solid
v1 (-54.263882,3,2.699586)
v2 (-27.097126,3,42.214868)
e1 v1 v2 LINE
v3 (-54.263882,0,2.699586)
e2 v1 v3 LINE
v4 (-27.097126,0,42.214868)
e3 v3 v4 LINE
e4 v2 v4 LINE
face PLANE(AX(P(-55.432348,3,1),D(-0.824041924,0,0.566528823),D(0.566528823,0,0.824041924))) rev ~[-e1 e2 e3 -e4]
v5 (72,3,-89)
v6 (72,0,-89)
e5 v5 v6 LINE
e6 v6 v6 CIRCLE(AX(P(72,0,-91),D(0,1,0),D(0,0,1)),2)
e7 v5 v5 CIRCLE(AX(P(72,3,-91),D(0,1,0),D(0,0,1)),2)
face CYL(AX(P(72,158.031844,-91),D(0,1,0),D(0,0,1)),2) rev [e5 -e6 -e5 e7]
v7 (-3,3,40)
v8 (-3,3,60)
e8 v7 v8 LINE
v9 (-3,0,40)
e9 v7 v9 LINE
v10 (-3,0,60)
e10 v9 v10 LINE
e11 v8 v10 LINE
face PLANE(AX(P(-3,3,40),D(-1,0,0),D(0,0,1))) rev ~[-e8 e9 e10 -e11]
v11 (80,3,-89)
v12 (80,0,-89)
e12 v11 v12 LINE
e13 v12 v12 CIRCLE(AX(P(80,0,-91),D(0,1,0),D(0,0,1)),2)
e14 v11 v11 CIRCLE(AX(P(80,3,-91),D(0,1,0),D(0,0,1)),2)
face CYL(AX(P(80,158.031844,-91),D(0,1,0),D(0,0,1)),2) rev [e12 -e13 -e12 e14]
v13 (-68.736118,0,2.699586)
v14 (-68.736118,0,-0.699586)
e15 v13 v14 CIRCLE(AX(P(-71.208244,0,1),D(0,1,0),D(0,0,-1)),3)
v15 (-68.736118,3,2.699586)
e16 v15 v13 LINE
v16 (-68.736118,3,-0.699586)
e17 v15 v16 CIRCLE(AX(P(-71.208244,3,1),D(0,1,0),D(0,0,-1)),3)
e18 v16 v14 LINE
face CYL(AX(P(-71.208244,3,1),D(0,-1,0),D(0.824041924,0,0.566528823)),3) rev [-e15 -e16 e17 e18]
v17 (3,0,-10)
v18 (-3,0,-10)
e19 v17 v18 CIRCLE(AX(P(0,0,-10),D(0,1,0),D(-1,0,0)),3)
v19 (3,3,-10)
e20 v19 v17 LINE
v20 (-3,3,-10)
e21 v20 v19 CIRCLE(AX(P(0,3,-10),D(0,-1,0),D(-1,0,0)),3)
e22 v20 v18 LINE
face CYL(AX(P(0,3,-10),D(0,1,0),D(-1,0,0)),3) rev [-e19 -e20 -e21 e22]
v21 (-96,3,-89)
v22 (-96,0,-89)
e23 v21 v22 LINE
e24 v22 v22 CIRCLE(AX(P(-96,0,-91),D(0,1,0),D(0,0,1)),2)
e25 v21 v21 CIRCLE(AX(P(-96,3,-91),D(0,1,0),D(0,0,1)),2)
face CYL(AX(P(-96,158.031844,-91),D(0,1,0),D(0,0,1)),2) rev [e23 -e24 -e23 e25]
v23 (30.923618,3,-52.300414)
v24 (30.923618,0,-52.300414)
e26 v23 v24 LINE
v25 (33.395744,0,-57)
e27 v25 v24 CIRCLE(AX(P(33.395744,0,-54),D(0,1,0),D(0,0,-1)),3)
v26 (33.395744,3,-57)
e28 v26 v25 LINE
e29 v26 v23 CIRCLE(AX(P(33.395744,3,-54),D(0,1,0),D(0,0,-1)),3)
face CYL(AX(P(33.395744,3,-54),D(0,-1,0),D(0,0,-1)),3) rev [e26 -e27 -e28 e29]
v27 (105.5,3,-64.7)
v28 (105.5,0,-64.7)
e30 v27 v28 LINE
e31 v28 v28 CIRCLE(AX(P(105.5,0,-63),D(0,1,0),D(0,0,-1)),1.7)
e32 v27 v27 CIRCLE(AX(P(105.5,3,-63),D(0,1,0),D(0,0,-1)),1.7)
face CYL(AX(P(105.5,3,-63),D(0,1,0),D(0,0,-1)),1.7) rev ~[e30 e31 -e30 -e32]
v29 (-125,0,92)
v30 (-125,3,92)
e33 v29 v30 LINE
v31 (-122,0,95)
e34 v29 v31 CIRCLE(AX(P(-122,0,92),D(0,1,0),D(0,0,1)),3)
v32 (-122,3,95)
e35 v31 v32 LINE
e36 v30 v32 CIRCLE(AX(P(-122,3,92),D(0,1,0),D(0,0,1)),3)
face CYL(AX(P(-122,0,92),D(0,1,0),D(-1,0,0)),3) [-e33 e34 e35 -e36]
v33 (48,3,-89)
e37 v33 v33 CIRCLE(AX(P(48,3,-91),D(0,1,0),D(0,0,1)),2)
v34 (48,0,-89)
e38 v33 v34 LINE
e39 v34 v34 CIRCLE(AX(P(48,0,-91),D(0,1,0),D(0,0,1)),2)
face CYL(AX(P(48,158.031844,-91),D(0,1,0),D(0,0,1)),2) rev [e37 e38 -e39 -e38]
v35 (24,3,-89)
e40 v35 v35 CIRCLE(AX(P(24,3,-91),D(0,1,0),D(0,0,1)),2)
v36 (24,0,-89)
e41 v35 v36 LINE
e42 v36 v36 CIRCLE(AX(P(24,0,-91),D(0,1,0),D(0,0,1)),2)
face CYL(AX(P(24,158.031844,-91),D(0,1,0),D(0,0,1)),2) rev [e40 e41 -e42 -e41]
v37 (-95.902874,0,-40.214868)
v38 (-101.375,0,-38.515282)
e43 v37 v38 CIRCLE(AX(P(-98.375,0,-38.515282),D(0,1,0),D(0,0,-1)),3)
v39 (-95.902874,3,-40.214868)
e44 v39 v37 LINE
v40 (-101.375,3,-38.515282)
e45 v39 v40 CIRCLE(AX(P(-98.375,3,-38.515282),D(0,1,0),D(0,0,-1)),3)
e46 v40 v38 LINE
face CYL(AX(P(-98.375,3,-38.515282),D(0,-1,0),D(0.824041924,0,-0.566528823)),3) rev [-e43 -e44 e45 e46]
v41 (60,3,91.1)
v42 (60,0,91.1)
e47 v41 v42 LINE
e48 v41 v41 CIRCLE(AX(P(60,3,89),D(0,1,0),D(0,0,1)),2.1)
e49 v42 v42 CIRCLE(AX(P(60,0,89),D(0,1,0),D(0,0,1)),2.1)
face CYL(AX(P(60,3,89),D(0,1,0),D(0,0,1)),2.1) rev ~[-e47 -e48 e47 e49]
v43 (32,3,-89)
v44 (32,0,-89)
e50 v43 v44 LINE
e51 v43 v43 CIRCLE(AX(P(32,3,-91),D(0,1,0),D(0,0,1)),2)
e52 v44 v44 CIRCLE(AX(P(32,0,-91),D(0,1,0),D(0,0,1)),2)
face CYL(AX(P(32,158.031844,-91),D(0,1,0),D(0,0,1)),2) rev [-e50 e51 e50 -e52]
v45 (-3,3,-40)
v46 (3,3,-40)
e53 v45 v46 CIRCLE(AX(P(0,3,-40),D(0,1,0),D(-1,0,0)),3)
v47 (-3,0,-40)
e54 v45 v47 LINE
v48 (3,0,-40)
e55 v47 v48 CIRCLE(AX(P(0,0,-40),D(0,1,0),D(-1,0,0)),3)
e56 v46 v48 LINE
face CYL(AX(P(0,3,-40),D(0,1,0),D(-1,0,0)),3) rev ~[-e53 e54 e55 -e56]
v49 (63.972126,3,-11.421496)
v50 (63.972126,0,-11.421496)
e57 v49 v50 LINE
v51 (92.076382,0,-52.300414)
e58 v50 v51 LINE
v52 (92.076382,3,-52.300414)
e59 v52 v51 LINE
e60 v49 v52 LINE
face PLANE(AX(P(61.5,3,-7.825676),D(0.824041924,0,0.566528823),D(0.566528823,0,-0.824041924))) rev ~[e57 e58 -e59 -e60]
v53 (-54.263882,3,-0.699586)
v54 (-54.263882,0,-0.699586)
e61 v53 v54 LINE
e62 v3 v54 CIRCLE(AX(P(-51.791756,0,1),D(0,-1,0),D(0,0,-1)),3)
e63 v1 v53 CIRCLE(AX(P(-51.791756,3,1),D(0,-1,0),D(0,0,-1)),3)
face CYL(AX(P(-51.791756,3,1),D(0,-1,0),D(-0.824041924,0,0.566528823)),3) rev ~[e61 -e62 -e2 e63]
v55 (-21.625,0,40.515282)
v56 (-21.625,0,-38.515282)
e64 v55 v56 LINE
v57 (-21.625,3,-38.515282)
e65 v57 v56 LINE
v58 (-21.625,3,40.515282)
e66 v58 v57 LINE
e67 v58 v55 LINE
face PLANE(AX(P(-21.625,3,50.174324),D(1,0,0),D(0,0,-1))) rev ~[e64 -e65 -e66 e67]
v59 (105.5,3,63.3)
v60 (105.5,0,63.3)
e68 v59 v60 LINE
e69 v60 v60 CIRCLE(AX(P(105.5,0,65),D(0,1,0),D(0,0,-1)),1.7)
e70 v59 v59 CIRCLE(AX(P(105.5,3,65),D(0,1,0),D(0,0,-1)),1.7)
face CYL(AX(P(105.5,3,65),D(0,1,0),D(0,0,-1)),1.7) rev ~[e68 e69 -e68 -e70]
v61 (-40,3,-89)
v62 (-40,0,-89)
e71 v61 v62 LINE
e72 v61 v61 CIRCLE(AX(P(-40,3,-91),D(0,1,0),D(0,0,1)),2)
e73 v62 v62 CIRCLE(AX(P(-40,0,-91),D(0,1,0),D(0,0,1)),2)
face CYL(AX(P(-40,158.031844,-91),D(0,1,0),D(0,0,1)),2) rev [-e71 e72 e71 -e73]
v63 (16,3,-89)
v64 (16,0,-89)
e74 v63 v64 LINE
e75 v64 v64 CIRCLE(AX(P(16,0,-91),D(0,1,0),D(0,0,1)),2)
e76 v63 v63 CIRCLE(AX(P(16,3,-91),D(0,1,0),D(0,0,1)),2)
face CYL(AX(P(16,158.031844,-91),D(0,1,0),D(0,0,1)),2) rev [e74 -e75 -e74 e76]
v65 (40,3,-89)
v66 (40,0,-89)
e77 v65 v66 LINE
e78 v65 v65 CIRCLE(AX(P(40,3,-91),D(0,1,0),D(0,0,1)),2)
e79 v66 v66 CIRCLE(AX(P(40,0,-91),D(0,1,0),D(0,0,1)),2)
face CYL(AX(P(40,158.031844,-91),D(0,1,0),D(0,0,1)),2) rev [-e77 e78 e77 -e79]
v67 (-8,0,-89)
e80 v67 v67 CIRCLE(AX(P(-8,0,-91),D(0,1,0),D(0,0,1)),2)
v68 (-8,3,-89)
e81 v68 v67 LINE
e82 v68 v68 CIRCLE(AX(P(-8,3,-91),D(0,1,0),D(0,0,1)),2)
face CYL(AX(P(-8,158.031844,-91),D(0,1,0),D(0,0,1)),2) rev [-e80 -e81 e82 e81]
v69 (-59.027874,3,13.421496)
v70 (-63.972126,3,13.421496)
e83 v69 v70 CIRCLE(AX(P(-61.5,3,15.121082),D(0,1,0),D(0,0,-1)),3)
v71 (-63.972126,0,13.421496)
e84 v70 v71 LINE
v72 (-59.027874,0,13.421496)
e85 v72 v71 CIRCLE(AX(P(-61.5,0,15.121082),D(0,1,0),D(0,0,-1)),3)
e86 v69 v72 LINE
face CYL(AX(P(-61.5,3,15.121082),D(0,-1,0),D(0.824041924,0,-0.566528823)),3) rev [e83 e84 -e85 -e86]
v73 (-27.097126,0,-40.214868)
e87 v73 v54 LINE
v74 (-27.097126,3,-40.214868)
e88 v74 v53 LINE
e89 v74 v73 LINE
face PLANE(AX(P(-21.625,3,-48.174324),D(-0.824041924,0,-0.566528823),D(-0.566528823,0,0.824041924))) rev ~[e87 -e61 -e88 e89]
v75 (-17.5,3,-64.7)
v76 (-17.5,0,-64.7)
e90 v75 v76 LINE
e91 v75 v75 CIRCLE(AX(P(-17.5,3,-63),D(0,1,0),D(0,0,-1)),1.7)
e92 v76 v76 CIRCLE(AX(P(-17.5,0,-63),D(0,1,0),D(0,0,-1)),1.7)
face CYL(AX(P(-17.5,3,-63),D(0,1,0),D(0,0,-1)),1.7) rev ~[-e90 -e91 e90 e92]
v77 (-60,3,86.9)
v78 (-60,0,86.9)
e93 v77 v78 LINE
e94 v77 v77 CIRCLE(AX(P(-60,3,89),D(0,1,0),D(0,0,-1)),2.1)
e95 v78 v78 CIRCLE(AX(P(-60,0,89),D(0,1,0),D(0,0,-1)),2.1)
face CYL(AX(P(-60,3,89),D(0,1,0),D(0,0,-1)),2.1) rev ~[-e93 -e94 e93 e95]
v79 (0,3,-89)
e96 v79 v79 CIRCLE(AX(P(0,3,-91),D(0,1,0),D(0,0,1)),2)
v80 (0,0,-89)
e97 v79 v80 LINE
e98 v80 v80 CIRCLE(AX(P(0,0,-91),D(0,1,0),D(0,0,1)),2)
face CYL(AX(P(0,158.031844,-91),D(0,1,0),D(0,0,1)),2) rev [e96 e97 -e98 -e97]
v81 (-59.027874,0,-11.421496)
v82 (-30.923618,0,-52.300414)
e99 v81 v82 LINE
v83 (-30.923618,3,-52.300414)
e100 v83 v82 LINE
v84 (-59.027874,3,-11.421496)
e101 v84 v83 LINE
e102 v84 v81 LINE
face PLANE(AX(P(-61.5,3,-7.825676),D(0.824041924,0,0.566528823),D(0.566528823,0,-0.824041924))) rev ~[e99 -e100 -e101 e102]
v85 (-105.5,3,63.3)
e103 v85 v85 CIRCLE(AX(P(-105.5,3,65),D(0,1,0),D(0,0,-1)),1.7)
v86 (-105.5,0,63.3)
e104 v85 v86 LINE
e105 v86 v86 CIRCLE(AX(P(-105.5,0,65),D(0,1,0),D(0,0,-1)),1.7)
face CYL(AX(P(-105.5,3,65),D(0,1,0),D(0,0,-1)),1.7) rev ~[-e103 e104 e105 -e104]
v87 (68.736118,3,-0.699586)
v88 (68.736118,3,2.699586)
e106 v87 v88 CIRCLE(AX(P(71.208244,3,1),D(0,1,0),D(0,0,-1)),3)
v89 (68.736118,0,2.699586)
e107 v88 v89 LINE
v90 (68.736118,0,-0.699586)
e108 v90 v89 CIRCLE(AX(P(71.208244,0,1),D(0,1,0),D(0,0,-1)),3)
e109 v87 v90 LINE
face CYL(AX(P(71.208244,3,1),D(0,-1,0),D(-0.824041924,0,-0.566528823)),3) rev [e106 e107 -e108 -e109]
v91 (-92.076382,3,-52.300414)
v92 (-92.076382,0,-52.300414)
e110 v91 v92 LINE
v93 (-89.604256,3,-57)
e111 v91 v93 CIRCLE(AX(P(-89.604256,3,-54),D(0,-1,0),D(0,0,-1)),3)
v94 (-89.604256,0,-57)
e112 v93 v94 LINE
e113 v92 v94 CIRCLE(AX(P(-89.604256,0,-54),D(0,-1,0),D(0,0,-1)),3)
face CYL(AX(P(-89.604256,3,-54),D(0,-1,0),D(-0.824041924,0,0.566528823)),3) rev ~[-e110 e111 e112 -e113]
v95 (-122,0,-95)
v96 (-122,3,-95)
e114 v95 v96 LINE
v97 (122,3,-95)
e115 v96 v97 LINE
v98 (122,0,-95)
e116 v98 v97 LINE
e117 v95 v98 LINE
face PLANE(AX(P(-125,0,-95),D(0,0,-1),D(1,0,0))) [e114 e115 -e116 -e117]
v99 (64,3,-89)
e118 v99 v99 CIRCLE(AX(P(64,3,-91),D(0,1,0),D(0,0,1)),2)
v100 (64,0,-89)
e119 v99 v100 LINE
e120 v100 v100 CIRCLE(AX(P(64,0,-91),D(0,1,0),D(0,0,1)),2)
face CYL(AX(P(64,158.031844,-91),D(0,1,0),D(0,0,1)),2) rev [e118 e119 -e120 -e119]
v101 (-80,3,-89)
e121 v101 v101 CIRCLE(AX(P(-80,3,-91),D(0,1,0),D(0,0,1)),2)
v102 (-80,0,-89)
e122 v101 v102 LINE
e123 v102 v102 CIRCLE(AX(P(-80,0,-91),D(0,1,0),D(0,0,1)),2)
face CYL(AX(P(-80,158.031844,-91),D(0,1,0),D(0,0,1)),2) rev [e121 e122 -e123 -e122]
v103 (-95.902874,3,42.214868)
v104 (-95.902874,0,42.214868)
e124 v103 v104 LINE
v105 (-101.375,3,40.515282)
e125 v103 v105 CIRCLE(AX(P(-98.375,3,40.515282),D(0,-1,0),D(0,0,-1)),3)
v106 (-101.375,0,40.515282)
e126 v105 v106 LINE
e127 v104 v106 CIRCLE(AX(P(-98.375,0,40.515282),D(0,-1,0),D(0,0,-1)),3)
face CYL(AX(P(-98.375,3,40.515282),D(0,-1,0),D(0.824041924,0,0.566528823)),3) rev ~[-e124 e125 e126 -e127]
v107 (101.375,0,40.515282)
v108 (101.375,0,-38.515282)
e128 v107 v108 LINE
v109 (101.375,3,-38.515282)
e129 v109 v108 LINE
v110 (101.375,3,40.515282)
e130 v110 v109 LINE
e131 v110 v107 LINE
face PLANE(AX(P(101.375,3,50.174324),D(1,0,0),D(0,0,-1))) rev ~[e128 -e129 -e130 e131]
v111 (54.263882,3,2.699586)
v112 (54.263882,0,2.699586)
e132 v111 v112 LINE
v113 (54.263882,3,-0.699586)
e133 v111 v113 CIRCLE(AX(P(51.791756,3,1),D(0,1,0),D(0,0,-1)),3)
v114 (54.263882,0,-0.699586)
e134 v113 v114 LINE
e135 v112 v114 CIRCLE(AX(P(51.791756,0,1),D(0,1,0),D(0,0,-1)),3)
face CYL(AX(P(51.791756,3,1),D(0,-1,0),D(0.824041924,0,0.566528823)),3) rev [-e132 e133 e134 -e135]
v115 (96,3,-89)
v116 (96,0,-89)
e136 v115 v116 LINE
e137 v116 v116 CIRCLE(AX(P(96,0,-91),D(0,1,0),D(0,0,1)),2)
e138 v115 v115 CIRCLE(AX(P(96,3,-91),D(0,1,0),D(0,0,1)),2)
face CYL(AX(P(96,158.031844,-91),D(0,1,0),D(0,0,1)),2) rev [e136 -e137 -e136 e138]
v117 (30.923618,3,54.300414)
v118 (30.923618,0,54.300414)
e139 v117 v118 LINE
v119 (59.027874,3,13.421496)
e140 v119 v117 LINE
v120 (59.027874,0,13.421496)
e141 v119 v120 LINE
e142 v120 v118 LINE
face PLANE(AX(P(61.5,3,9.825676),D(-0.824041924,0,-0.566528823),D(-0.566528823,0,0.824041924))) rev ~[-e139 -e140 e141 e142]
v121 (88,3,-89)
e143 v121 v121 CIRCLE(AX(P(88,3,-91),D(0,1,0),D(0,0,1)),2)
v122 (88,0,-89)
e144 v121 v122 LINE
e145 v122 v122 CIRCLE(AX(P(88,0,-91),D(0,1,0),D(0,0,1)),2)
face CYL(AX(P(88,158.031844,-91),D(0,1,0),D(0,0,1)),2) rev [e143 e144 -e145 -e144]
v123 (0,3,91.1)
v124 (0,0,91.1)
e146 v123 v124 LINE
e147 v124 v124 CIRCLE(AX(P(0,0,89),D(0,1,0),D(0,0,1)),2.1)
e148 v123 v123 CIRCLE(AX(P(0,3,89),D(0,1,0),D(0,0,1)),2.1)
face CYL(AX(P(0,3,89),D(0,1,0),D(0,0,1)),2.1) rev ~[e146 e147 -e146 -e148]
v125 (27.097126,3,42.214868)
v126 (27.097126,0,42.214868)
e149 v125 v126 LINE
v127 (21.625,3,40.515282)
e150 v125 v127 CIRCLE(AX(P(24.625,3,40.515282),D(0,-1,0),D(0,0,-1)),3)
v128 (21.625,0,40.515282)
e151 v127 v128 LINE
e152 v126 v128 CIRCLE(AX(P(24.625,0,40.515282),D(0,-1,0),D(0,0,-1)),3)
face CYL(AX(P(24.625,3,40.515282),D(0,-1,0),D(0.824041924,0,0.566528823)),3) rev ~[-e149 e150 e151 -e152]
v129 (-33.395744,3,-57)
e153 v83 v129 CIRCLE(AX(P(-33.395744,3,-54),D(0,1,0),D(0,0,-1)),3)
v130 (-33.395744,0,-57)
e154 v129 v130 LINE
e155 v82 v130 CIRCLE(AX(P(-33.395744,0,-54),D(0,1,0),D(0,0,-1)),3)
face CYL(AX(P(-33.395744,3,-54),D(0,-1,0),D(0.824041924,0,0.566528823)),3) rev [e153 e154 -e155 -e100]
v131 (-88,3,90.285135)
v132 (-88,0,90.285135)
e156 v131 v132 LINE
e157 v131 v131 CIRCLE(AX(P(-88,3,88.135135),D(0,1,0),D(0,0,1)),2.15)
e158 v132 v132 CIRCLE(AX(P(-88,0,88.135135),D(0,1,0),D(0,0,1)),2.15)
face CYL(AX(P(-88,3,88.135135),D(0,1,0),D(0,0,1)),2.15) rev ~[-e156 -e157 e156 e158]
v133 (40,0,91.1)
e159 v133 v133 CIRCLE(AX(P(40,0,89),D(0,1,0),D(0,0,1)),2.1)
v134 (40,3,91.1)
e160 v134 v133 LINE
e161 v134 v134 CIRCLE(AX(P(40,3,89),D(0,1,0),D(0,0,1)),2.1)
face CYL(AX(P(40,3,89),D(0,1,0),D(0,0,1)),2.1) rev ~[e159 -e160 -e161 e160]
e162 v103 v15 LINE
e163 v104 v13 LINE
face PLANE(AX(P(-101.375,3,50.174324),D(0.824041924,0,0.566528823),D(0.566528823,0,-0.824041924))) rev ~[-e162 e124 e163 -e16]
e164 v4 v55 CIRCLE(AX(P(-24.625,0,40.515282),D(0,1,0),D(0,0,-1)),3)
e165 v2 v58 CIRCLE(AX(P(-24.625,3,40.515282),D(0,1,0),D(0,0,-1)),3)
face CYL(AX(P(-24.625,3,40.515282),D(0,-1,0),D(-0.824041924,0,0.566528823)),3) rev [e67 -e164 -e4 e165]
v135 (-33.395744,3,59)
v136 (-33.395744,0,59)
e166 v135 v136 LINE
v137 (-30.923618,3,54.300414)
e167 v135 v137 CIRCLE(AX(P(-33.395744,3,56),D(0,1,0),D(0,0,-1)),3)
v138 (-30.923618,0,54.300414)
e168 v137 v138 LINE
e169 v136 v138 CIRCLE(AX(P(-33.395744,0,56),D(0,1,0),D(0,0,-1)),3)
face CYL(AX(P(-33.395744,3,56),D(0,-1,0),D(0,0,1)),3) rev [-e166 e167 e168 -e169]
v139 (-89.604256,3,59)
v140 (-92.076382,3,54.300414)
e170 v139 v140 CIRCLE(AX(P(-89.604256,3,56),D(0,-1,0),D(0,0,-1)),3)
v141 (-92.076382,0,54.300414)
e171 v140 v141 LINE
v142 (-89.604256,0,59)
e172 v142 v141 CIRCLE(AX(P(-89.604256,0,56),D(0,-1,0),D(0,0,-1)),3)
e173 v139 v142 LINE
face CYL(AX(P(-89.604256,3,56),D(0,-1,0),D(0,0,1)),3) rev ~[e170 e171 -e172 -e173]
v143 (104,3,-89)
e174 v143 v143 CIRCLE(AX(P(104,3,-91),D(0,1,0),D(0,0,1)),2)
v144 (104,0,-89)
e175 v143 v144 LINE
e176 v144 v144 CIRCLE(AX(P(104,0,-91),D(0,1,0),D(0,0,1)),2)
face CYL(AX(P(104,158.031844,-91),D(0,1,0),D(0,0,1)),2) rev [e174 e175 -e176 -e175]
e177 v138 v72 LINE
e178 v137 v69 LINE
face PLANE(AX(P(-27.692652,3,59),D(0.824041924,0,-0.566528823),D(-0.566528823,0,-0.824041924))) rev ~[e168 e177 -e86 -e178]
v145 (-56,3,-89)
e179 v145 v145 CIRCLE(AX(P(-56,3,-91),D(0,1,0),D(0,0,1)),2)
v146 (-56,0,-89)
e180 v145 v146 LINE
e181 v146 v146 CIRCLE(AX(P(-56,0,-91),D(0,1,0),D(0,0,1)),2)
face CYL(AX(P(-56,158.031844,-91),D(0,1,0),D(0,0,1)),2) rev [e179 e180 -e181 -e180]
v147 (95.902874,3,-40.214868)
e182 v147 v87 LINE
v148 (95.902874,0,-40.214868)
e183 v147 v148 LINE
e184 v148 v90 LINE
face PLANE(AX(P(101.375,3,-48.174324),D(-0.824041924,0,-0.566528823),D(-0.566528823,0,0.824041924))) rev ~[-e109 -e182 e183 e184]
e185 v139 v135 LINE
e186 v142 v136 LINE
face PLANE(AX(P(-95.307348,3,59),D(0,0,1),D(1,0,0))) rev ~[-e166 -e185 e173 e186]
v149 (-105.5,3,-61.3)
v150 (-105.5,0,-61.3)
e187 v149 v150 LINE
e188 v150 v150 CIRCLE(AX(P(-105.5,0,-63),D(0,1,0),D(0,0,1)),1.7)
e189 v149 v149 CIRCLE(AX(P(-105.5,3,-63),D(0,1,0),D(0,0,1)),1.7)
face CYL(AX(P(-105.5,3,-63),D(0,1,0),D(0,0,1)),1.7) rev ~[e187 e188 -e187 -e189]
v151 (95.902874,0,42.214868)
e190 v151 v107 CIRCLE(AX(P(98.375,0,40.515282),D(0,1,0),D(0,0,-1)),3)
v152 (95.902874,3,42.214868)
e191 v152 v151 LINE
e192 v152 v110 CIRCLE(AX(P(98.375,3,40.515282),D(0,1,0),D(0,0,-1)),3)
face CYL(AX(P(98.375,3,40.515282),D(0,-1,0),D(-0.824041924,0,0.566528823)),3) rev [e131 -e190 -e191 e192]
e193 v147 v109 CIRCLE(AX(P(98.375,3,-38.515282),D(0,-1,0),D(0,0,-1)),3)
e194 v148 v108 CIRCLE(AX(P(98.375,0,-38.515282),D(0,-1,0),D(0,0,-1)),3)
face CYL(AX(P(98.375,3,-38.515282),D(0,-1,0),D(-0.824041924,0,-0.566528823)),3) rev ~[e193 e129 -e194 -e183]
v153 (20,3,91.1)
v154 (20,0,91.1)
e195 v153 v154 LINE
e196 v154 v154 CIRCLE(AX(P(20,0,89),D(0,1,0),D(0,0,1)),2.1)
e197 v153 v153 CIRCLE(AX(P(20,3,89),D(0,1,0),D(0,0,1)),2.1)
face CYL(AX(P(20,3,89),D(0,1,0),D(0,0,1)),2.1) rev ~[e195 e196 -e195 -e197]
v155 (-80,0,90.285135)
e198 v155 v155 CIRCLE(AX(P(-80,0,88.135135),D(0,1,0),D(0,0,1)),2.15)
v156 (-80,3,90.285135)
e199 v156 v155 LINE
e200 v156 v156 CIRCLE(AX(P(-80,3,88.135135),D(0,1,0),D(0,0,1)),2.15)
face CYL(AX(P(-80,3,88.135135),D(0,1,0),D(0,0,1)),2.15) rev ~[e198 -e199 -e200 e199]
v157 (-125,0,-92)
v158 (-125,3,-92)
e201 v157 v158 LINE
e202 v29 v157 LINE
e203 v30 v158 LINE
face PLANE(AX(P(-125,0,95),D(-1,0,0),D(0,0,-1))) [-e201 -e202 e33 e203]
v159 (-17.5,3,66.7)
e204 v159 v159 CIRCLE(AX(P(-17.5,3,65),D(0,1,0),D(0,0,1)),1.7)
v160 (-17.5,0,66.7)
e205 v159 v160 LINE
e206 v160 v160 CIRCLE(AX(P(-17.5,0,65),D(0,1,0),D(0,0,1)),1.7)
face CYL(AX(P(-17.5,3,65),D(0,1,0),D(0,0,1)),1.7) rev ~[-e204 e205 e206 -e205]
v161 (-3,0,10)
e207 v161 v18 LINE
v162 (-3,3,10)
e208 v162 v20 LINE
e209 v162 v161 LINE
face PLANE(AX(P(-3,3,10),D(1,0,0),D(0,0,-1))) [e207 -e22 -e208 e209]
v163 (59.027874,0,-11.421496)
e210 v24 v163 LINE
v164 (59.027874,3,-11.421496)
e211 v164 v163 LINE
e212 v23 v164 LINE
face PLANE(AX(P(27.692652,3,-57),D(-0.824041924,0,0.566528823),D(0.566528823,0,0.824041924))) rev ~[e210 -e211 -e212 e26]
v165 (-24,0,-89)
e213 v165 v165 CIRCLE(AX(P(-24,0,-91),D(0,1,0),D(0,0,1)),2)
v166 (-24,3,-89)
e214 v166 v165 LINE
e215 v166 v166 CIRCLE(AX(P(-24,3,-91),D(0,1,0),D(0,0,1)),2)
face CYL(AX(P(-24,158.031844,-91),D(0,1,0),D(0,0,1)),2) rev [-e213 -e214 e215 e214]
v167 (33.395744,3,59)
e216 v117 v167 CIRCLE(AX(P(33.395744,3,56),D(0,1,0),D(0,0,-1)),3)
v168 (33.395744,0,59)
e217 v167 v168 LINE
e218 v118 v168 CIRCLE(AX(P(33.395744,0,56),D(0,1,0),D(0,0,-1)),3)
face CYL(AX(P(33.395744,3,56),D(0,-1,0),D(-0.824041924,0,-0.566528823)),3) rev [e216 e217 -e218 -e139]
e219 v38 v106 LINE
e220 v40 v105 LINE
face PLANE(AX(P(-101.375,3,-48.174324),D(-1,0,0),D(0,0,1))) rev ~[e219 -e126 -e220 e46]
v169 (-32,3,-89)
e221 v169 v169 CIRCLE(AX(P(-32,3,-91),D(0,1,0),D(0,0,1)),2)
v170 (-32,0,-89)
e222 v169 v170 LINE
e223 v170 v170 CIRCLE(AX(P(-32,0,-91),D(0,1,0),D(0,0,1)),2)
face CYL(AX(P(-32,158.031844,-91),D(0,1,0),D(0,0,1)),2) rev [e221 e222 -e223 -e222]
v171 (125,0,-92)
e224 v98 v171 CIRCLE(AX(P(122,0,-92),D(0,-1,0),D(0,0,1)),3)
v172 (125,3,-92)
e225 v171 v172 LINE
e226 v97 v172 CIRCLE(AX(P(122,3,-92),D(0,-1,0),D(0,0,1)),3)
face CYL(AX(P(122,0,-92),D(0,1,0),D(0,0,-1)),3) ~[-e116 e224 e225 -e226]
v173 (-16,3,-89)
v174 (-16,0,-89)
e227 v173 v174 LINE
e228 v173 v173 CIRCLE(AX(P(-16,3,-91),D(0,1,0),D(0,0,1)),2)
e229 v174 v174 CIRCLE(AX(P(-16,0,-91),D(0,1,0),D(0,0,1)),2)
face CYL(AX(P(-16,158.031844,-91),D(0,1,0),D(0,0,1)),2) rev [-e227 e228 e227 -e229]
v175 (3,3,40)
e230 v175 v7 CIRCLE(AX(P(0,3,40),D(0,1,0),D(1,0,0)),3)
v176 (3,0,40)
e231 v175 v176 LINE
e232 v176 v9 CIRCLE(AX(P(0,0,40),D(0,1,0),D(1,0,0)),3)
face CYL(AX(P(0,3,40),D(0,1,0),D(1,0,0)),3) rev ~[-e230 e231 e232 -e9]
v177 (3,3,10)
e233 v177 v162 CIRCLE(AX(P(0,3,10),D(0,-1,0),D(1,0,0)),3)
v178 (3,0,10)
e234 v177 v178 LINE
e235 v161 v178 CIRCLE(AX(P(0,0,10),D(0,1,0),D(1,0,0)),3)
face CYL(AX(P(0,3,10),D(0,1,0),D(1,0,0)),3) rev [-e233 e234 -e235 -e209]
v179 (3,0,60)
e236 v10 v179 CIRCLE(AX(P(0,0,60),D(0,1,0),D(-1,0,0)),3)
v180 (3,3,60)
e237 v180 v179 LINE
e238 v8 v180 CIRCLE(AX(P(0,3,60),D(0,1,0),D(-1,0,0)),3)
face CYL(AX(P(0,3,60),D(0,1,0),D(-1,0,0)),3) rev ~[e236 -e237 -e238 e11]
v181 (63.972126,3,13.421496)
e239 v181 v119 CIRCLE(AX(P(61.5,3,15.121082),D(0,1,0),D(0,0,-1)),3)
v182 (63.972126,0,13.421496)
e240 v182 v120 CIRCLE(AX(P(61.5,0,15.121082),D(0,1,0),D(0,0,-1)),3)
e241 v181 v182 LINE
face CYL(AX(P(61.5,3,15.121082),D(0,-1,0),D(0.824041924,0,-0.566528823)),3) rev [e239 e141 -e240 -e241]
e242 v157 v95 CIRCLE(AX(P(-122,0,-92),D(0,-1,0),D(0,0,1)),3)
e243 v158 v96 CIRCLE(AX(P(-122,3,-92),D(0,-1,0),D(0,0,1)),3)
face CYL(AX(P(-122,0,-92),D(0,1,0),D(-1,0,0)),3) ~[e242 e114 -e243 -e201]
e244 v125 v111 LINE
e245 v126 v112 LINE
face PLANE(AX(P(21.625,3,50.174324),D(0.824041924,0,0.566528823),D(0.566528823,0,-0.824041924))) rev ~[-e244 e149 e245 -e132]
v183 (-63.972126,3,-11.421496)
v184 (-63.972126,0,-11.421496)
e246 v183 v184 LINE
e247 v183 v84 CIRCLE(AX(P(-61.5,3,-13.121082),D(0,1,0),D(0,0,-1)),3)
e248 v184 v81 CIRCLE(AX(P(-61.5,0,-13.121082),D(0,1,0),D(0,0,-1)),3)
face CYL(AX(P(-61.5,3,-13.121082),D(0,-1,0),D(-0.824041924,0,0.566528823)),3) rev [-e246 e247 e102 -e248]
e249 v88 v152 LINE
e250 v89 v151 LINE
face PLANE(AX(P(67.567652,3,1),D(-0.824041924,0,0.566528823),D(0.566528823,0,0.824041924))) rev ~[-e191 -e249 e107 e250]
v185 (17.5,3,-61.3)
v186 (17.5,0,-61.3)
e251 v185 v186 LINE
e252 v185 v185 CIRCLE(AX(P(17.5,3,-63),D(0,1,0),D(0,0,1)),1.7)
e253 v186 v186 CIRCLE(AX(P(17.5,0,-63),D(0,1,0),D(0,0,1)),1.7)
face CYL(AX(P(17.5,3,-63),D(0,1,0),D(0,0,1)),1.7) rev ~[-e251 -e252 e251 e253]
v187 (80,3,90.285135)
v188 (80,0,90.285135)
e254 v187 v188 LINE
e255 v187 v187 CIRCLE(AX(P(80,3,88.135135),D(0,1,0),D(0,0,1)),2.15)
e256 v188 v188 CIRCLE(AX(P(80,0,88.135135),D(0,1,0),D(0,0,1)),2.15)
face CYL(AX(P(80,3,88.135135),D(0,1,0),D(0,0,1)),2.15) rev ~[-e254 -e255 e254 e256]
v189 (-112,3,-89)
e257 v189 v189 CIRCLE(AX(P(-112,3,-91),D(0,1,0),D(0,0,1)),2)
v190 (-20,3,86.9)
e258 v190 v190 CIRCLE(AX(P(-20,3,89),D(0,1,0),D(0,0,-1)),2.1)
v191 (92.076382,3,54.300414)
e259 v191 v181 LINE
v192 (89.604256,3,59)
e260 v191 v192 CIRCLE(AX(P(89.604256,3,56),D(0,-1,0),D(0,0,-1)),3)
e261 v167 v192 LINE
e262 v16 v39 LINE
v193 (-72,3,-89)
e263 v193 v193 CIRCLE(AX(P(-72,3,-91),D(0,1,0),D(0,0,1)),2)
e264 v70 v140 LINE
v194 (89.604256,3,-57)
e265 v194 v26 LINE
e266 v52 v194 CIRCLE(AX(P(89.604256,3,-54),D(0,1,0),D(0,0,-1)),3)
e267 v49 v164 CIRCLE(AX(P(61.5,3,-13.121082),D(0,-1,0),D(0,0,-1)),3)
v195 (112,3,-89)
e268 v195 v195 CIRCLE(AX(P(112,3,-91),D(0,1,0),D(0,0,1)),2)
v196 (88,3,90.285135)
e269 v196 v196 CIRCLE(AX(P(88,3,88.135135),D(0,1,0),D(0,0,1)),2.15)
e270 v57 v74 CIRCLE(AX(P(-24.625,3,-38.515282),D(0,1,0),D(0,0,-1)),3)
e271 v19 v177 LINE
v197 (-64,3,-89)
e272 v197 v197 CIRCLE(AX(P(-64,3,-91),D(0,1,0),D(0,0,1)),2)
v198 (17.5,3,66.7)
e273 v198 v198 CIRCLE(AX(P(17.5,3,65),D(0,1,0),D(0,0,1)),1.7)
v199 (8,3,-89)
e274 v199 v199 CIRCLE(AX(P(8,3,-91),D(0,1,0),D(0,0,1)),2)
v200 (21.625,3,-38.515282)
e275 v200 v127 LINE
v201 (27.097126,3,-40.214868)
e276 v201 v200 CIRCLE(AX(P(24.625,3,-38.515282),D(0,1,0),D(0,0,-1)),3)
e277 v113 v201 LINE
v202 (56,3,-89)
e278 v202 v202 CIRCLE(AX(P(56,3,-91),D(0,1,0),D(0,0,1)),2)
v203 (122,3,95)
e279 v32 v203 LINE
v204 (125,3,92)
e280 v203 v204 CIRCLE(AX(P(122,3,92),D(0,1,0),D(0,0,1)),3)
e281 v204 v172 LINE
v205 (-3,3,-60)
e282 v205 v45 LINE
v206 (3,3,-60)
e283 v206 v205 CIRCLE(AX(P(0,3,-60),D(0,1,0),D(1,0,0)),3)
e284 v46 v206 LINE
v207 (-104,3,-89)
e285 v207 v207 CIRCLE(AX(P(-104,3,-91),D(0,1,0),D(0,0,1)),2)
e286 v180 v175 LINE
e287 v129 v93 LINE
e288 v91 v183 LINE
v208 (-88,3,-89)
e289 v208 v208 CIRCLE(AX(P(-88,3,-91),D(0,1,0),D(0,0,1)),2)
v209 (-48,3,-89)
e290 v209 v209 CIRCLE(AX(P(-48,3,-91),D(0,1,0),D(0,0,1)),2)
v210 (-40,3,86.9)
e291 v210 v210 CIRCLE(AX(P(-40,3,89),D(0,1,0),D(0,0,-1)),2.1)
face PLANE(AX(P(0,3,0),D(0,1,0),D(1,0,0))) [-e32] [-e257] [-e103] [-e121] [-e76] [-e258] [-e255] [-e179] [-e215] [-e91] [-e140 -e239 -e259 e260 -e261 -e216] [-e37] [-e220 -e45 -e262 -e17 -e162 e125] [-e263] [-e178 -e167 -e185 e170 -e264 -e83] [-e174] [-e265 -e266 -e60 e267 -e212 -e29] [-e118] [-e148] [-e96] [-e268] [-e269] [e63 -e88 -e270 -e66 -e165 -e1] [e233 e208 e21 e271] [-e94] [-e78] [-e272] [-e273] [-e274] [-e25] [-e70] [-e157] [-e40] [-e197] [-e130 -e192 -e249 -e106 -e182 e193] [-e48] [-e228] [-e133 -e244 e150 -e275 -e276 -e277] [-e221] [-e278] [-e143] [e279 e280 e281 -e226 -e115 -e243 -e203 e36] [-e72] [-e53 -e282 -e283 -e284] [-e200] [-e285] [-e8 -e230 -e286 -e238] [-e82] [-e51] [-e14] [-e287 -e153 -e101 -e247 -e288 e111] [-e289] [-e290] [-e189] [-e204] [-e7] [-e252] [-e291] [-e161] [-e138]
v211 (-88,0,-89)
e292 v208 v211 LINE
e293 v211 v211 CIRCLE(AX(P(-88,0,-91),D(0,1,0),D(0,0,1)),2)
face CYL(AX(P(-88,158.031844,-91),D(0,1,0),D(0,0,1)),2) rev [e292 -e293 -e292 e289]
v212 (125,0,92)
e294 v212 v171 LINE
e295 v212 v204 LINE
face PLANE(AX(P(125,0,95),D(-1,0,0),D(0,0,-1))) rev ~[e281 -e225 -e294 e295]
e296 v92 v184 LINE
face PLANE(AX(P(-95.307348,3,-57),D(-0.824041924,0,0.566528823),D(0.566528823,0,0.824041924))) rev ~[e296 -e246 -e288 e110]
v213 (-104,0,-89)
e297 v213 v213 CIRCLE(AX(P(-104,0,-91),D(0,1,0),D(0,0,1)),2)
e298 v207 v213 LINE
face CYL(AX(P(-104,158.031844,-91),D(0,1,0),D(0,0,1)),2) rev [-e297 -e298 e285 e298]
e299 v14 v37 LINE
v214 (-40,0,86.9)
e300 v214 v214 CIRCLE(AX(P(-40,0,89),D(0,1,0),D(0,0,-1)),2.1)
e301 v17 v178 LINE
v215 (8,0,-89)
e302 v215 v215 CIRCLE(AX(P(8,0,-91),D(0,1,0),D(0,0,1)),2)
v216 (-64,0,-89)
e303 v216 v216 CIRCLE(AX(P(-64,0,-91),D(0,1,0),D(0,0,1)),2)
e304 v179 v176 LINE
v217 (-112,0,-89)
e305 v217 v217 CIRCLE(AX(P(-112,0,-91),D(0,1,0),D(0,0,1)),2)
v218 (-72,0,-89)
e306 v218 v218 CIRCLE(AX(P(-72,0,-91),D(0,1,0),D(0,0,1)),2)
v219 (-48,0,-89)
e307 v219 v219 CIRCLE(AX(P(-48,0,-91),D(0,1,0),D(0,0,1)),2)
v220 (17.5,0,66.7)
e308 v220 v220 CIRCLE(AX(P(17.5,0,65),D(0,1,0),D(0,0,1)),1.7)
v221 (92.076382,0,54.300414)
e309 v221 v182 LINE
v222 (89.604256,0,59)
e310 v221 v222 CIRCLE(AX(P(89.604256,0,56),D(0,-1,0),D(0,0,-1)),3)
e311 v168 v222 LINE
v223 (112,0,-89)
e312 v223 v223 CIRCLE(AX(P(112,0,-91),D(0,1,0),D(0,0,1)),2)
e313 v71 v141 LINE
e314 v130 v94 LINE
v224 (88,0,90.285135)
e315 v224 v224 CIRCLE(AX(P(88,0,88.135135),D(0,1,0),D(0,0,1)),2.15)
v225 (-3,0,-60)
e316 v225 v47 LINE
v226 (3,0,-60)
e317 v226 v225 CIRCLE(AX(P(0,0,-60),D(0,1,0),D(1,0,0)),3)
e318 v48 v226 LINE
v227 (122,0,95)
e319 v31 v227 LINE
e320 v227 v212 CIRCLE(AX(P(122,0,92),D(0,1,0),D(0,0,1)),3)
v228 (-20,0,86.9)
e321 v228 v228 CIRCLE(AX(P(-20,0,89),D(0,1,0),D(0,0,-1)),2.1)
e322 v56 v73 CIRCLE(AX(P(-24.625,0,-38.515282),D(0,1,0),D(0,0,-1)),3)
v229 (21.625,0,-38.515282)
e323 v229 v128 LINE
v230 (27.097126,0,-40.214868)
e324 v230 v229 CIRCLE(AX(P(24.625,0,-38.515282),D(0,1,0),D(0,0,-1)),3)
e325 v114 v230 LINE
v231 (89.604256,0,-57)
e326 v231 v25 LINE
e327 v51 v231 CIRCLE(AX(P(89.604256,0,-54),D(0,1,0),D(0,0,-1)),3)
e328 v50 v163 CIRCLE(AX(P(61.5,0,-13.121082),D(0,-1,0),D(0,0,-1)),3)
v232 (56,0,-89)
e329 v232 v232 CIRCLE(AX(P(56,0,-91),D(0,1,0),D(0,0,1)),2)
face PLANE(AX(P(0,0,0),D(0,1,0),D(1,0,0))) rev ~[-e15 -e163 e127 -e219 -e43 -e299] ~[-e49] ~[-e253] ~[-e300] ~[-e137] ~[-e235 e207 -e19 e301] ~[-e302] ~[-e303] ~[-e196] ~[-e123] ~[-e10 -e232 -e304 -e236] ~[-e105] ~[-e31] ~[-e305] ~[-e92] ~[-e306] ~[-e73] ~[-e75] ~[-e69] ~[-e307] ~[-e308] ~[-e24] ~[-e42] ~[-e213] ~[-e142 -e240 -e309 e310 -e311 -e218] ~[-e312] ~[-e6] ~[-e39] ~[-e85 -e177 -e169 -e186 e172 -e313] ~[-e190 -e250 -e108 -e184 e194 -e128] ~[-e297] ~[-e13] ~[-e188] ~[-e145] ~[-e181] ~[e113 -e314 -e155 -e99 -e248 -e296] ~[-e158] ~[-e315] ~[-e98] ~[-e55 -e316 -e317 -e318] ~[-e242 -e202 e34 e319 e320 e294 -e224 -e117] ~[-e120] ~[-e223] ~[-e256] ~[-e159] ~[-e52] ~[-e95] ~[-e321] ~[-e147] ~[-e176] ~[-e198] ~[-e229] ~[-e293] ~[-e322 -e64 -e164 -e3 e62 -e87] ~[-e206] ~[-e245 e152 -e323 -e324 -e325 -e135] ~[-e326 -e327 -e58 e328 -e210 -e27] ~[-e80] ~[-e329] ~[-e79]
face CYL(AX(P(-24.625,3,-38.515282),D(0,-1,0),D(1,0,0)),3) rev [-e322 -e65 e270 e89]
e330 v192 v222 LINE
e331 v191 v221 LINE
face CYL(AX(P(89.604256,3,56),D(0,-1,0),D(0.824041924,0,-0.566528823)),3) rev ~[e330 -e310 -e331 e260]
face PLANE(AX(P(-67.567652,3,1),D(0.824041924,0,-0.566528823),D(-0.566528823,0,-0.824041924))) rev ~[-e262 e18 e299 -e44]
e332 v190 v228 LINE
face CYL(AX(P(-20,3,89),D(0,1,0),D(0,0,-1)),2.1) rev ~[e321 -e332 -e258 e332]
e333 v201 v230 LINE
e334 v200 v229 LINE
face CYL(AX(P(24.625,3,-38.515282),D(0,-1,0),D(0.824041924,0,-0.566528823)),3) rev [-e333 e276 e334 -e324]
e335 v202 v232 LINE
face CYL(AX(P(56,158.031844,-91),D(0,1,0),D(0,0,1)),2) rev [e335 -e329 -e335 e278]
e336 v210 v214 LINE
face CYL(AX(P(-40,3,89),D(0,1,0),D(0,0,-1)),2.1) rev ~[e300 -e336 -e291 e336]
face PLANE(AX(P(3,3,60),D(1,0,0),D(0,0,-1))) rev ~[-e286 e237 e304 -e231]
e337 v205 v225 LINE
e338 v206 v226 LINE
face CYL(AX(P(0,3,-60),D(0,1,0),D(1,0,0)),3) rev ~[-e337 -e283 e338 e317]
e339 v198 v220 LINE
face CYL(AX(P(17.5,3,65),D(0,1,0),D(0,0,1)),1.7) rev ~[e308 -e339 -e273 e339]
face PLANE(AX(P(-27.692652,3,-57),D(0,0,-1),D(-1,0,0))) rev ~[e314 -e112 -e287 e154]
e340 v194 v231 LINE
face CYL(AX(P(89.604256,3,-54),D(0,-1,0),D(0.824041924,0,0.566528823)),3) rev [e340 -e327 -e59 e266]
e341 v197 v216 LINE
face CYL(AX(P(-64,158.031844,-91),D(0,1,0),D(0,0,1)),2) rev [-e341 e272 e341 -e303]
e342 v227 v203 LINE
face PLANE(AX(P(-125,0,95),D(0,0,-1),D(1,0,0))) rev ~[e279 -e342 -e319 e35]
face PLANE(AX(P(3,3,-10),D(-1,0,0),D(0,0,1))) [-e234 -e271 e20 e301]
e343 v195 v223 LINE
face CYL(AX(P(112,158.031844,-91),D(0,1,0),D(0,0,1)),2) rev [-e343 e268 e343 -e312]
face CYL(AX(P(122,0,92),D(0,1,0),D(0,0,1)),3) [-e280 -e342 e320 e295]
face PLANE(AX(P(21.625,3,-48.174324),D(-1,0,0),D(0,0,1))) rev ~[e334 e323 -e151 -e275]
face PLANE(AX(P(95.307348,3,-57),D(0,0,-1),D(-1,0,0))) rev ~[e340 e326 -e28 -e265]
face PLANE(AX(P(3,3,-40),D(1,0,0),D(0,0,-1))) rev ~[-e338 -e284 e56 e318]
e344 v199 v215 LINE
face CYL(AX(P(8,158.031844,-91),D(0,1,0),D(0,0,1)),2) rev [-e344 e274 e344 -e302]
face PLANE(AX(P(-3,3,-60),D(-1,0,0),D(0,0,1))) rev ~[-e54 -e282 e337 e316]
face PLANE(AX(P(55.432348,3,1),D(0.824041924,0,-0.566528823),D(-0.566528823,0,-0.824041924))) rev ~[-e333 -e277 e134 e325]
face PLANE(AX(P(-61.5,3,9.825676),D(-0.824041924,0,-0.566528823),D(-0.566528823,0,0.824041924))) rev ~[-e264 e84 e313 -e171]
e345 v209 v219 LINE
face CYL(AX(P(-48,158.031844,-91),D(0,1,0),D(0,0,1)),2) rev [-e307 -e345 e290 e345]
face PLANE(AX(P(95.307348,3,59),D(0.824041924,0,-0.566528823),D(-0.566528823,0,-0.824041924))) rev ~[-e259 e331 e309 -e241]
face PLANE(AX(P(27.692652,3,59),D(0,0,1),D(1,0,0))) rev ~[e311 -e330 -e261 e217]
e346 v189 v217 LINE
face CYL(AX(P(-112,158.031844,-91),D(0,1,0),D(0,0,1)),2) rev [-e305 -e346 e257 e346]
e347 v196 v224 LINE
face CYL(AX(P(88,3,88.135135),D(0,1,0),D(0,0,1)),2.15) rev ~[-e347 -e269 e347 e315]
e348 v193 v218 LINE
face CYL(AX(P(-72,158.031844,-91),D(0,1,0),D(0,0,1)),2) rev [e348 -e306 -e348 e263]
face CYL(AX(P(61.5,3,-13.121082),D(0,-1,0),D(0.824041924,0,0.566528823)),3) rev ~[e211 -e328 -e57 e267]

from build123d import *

# Parameters (mm, degrees)
SKETCH_1_W               = 250
SKETCH_1_H               = 190
EXTRUDE_1_DEPTH          = 3
CUT_EXTRUDE_1_DEPTH      = 158.031843904
CUT_EXTRUDE_1_DEPTH_BACK = 158.031843904
SKETCH_3_R               = 2.15
CUT_EXTRUDE_2_DEPTH      = 158.031843904
SKETCH_4_R               = 2.1
CUT_EXTRUDE_3_DEPTH      = 158.031843904
CUT_EXTRUDE_4_DEPTH      = 158.031843904
FILLET_1_R               = 3
CUT_EXTRUDE_5_DEPTH      = 158.031843904


with BuildPart() as part:
    # 草图1 → 凸台-拉伸1 (new body)
    with BuildSketch(Plane(origin=(0, 0, 0), x_dir=(1, 0, 0), z_dir=(0, 1, 0))):
        Rectangle(SKETCH_1_W, SKETCH_1_H)
    extrude(amount=EXTRUDE_1_DEPTH)

    # 草图2 → 切除-拉伸1 (cut, two sides: drawn at the far end of the back side and taken through both)
    with BuildSketch(Plane.XZ.offset(-CUT_EXTRUDE_1_DEPTH_BACK)):
        with BuildLine():
            ThreePointArc((56, -93), (58, -91), (56, -89))
            ThreePointArc((56, -89), (54, -91), (56, -93))
        make_face()
        with BuildLine():
            ThreePointArc((-112, -93), (-110, -91), (-112, -89))
            ThreePointArc((-112, -89), (-114, -91), (-112, -93))
        make_face()
        with BuildLine():
            ThreePointArc((-104, -93), (-102, -91), (-104, -89))
            ThreePointArc((-104, -89), (-106, -91), (-104, -93))
        make_face()
        with BuildLine():
            ThreePointArc((-96, -93), (-94, -91), (-96, -89))
            ThreePointArc((-96, -89), (-98, -91), (-96, -93))
        make_face()
        with BuildLine():
            ThreePointArc((-88, -93), (-86, -91), (-88, -89))
            ThreePointArc((-88, -89), (-90, -91), (-88, -93))
        make_face()
        with BuildLine():
            ThreePointArc((-48, -93), (-46, -91), (-48, -89))
            ThreePointArc((-48, -89), (-50, -91), (-48, -93))
        make_face()
        with BuildLine():
            ThreePointArc((-80, -93), (-78, -91), (-80, -89))
            ThreePointArc((-80, -89), (-82, -91), (-80, -93))
        make_face()
        with BuildLine():
            ThreePointArc((-72, -93), (-70, -91), (-72, -89))
            ThreePointArc((-72, -89), (-74, -91), (-72, -93))
        make_face()
        with BuildLine():
            ThreePointArc((-64, -93), (-62, -91), (-64, -89))
            ThreePointArc((-64, -89), (-66, -91), (-64, -93))
        make_face()
        with BuildLine():
            ThreePointArc((-56, -93), (-54, -91), (-56, -89))
            ThreePointArc((-56, -89), (-58, -91), (-56, -93))
        make_face()
        with BuildLine():
            ThreePointArc((64, -93), (66, -91), (64, -89))
            ThreePointArc((64, -89), (62, -91), (64, -93))
        make_face()
        with BuildLine():
            ThreePointArc((72, -93), (74, -91), (72, -89))
            ThreePointArc((72, -89), (70, -91), (72, -93))
        make_face()
        with BuildLine():
            ThreePointArc((80, -93), (82, -91), (80, -89))
            ThreePointArc((80, -89), (78, -91), (80, -93))
        make_face()
        with BuildLine():
            ThreePointArc((88, -93), (90, -91), (88, -89))
            ThreePointArc((88, -89), (86, -91), (88, -93))
        make_face()
        with BuildLine():
            ThreePointArc((96, -93), (98, -91), (96, -89))
            ThreePointArc((96, -89), (94, -91), (96, -93))
        make_face()
        with BuildLine():
            ThreePointArc((104, -93), (106, -91), (104, -89))
            ThreePointArc((104, -89), (102, -91), (104, -93))
        make_face()
        with BuildLine():
            ThreePointArc((112, -93), (114, -91), (112, -89))
            ThreePointArc((112, -89), (110, -91), (112, -93))
        make_face()
        with BuildLine():
            ThreePointArc((32, -93), (34, -91), (32, -89))
            ThreePointArc((32, -89), (30, -91), (32, -93))
        make_face()
        with BuildLine():
            ThreePointArc((24, -93), (26, -91), (24, -89))
            ThreePointArc((24, -89), (22, -91), (24, -93))
        make_face()
        with BuildLine():
            ThreePointArc((16, -93), (18, -91), (16, -89))
            ThreePointArc((16, -89), (14, -91), (16, -93))
        make_face()
        with BuildLine():
            ThreePointArc((8, -93), (10, -91), (8, -89))
            ThreePointArc((8, -89), (6, -91), (8, -93))
        make_face()
        with BuildLine():
            ThreePointArc((0, -93), (2, -91), (0, -89))
            ThreePointArc((0, -89), (-2, -91), (0, -93))
        make_face()
        with BuildLine():
            ThreePointArc((-8, -93), (-6, -91), (-8, -89))
            ThreePointArc((-8, -89), (-10, -91), (-8, -93))
        make_face()
        with BuildLine():
            ThreePointArc((-16, -93), (-14, -91), (-16, -89))
            ThreePointArc((-16, -89), (-18, -91), (-16, -93))
        make_face()
        with BuildLine():
            ThreePointArc((-24, -93), (-22, -91), (-24, -89))
            ThreePointArc((-24, -89), (-26, -91), (-24, -93))
        make_face()
        with BuildLine():
            ThreePointArc((-32, -93), (-30, -91), (-32, -89))
            ThreePointArc((-32, -89), (-34, -91), (-32, -93))
        make_face()
        with BuildLine():
            ThreePointArc((-40, -93), (-38, -91), (-40, -89))
            ThreePointArc((-40, -89), (-42, -91), (-40, -93))
        make_face()
        with BuildLine():
            ThreePointArc((40, -93), (42, -91), (40, -89))
            ThreePointArc((40, -89), (38, -91), (40, -93))
        make_face()
        with BuildLine():
            ThreePointArc((48, -93), (50, -91), (48, -89))
            ThreePointArc((48, -89), (46, -91), (48, -93))
        make_face()
    extrude(amount=CUT_EXTRUDE_1_DEPTH + CUT_EXTRUDE_1_DEPTH_BACK, mode=Mode.SUBTRACT)

    # 草图3 → 切除-拉伸2 (cut, through all)
    with BuildSketch(Plane(origin=(0, 3, 0), x_dir=(1, 0, 0), z_dir=(0, 1, 0))):
        with Locations(Location((80, -88.135135135, 0), (0, 0, 270))):
            Circle(SKETCH_3_R)
        with Locations(Location((88, -88.135135135, 0), (0, 0, 270))):
            Circle(SKETCH_3_R)
        with Locations(Location((-80, -88.135135135, 0), (0, 0, 270))):
            Circle(SKETCH_3_R)
        with Locations(Location((-88, -88.135135135, 0), (0, 0, 270))):
            Circle(SKETCH_3_R)
        with BuildLine():
            ThreePointArc((105.5, -66.7), (107.2, -65), (105.5, -63.3))
            ThreePointArc((105.5, -63.3), (103.8, -65), (105.5, -66.7))
        make_face()
        with BuildLine():
            ThreePointArc((17.5, -63.3), (15.8, -65), (17.5, -66.7))
            ThreePointArc((17.5, -66.7), (19.2, -65), (17.5, -63.3))
        make_face()
        with BuildLine():
            ThreePointArc((-17.5, -63.3), (-19.2, -65), (-17.5, -66.7))
            ThreePointArc((-17.5, -66.7), (-15.8, -65), (-17.5, -63.3))
        make_face()
        with BuildLine():
            ThreePointArc((-105.5, -66.7), (-103.8, -65), (-105.5, -63.3))
            ThreePointArc((-105.5, -63.3), (-107.2, -65), (-105.5, -66.7))
        make_face()
        with BuildLine():
            ThreePointArc((105.5, 61.3), (107.2, 63), (105.5, 64.7))
            ThreePointArc((105.5, 64.7), (103.8, 63), (105.5, 61.3))
        make_face()
        with BuildLine():
            ThreePointArc((17.5, 64.7), (15.8, 63), (17.5, 61.3))
            ThreePointArc((17.5, 61.3), (19.2, 63), (17.5, 64.7))
        make_face()
        with BuildLine():
            ThreePointArc((-17.5, 61.3), (-15.8, 63), (-17.5, 64.7))
            ThreePointArc((-17.5, 64.7), (-19.2, 63), (-17.5, 61.3))
        make_face()
        with BuildLine():
            ThreePointArc((-105.5, 64.7), (-107.2, 63), (-105.5, 61.3))
            ThreePointArc((-105.5, 61.3), (-103.8, 63), (-105.5, 64.7))
        make_face()
    extrude(amount=-CUT_EXTRUDE_2_DEPTH, mode=Mode.SUBTRACT)

    # 草图4 → 切除-拉伸3 (cut, through all)
    with BuildSketch(Plane(origin=(0, 3, 0), x_dir=(1, 0, 0), z_dir=(0, 1, 0))):
        with Locations(Location((0, -89, 0), (0, 0, 270))):
            Circle(SKETCH_4_R)
        with Locations(Location((20, -89, 0), (0, 0, 270))):
            Circle(SKETCH_4_R)
        with Locations(Location((40, -89, 0), (0, 0, 270))):
            Circle(SKETCH_4_R)
        with Locations(Location((60, -89, 0), (0, 0, 270))):
            Circle(SKETCH_4_R)
        with Locations(Location((-60, -89, 0), (0, 0, 90))):
            Circle(SKETCH_4_R)
        with Locations(Location((-40, -89, 0), (0, 0, 90))):
            Circle(SKETCH_4_R)
        with Locations(Location((-20, -89, 0), (0, 0, 90))):
            Circle(SKETCH_4_R)
    extrude(amount=-CUT_EXTRUDE_3_DEPTH, mode=Mode.SUBTRACT)

    # 草图5 → 切除-拉伸4 (cut, through all)
    with BuildSketch(Plane(origin=(0, 3, 0), x_dir=(1, 0, 0), z_dir=(0, 1, 0))):
        Polygon((-95.30734755, 57), (-61.5, 7.82567629), (-27.69265245, 57), align=None)
        Polygon((-101.375, -50.17432371), (-67.56765245, -1), (-101.375, 48.17432371), align=None)
        Polygon((-95.30734755, -59), (-27.69265245, -59), (-61.5, -9.82567629), align=None)
        Polygon((-55.43234755, -1), (-21.625, -50.17432371), (-21.625, 48.17432371), align=None)
        Polygon((21.625, -50.17432371), (55.43234755, -1), (21.625, 48.17432371), align=None)
        Polygon((61.5, 7.82567629), (95.30734755, 57), (27.69265245, 57), align=None)
        Polygon((101.375, 48.17432371), (67.56765245, -1), (101.375, -50.17432371), align=None)
        Polygon((95.30734755, -59), (61.5, -9.82567629), (27.69265245, -59), align=None)
    extrude(amount=-CUT_EXTRUDE_4_DEPTH, mode=Mode.SUBTRACT)

    # 圆角1
    fillet_1_edges = [part.edges().sort_by_distance(p)[0] for p in [
        (21.625, 1.5, 50.17432371),
        (21.625, 1.5, -48.17432371),
        (55.43234755, 1.5, 1),
        (-55.43234755, 1.5, 1),
        (-21.625, 1.5, -48.17432371),
        (-21.625, 1.5, 50.17432371),
        (-101.375, 1.5, -48.17432371),
        (-67.56765245, 1.5, 1),
        (-101.375, 1.5, 50.17432371),
        (-61.5, 1.5, 9.82567629),
        (-27.69265245, 1.5, 59),
        (-95.30734755, 1.5, 59),
        (27.69265245, 1.5, 59),
        (61.5, 1.5, 9.82567629),
        (95.30734755, 1.5, 59),
        (27.69265245, 1.5, -57),
        (95.30734755, 1.5, -57),
        (61.5, 1.5, -7.82567629),
        (101.375, 1.5, 50.17432371),
        (67.56765245, 1.5, 1),
        (101.375, 1.5, -48.17432371),
        (-95.30734755, 1.5, -57),
        (-27.69265245, 1.5, -57),
        (-61.5, 1.5, -7.82567629),
        (-125, 1.5, -95),
        (-125, 1.5, 95),
        (125, 1.5, 95),
        (125, 1.5, -95),
    ]]
    fillet(fillet_1_edges, radius=FILLET_1_R)

    # 草图6 → 切除-拉伸5 (cut, through all)
    with BuildSketch(Plane(origin=(0, 3, 0), x_dir=(1, 0, 0), z_dir=(0, 1, 0))):
        with BuildLine():
            Line((-3, -10), (-3, 10))
            ThreePointArc((-3, 10), (0, 13), (3, 10))
            Line((3, 10), (3, -10))
            ThreePointArc((3, -10), (0, -13), (-3, -10))
        make_face()
        with BuildLine():
            Line((3, 40), (3, 60))
            ThreePointArc((3, 60), (0, 63), (-3, 60))
            Line((-3, 60), (-3, 40))
            ThreePointArc((-3, 40), (0, 37), (3, 40))
        make_face()
        with BuildLine():
            Line((3, -60), (3, -40))
            ThreePointArc((3, -40), (0, -37), (-3, -40))
            Line((-3, -40), (-3, -60))
            ThreePointArc((-3, -60), (0, -63), (3, -60))
        make_face()
    extrude(amount=-CUT_EXTRUDE_5_DEPTH, mode=Mode.SUBTRACT)


solid = part.part
